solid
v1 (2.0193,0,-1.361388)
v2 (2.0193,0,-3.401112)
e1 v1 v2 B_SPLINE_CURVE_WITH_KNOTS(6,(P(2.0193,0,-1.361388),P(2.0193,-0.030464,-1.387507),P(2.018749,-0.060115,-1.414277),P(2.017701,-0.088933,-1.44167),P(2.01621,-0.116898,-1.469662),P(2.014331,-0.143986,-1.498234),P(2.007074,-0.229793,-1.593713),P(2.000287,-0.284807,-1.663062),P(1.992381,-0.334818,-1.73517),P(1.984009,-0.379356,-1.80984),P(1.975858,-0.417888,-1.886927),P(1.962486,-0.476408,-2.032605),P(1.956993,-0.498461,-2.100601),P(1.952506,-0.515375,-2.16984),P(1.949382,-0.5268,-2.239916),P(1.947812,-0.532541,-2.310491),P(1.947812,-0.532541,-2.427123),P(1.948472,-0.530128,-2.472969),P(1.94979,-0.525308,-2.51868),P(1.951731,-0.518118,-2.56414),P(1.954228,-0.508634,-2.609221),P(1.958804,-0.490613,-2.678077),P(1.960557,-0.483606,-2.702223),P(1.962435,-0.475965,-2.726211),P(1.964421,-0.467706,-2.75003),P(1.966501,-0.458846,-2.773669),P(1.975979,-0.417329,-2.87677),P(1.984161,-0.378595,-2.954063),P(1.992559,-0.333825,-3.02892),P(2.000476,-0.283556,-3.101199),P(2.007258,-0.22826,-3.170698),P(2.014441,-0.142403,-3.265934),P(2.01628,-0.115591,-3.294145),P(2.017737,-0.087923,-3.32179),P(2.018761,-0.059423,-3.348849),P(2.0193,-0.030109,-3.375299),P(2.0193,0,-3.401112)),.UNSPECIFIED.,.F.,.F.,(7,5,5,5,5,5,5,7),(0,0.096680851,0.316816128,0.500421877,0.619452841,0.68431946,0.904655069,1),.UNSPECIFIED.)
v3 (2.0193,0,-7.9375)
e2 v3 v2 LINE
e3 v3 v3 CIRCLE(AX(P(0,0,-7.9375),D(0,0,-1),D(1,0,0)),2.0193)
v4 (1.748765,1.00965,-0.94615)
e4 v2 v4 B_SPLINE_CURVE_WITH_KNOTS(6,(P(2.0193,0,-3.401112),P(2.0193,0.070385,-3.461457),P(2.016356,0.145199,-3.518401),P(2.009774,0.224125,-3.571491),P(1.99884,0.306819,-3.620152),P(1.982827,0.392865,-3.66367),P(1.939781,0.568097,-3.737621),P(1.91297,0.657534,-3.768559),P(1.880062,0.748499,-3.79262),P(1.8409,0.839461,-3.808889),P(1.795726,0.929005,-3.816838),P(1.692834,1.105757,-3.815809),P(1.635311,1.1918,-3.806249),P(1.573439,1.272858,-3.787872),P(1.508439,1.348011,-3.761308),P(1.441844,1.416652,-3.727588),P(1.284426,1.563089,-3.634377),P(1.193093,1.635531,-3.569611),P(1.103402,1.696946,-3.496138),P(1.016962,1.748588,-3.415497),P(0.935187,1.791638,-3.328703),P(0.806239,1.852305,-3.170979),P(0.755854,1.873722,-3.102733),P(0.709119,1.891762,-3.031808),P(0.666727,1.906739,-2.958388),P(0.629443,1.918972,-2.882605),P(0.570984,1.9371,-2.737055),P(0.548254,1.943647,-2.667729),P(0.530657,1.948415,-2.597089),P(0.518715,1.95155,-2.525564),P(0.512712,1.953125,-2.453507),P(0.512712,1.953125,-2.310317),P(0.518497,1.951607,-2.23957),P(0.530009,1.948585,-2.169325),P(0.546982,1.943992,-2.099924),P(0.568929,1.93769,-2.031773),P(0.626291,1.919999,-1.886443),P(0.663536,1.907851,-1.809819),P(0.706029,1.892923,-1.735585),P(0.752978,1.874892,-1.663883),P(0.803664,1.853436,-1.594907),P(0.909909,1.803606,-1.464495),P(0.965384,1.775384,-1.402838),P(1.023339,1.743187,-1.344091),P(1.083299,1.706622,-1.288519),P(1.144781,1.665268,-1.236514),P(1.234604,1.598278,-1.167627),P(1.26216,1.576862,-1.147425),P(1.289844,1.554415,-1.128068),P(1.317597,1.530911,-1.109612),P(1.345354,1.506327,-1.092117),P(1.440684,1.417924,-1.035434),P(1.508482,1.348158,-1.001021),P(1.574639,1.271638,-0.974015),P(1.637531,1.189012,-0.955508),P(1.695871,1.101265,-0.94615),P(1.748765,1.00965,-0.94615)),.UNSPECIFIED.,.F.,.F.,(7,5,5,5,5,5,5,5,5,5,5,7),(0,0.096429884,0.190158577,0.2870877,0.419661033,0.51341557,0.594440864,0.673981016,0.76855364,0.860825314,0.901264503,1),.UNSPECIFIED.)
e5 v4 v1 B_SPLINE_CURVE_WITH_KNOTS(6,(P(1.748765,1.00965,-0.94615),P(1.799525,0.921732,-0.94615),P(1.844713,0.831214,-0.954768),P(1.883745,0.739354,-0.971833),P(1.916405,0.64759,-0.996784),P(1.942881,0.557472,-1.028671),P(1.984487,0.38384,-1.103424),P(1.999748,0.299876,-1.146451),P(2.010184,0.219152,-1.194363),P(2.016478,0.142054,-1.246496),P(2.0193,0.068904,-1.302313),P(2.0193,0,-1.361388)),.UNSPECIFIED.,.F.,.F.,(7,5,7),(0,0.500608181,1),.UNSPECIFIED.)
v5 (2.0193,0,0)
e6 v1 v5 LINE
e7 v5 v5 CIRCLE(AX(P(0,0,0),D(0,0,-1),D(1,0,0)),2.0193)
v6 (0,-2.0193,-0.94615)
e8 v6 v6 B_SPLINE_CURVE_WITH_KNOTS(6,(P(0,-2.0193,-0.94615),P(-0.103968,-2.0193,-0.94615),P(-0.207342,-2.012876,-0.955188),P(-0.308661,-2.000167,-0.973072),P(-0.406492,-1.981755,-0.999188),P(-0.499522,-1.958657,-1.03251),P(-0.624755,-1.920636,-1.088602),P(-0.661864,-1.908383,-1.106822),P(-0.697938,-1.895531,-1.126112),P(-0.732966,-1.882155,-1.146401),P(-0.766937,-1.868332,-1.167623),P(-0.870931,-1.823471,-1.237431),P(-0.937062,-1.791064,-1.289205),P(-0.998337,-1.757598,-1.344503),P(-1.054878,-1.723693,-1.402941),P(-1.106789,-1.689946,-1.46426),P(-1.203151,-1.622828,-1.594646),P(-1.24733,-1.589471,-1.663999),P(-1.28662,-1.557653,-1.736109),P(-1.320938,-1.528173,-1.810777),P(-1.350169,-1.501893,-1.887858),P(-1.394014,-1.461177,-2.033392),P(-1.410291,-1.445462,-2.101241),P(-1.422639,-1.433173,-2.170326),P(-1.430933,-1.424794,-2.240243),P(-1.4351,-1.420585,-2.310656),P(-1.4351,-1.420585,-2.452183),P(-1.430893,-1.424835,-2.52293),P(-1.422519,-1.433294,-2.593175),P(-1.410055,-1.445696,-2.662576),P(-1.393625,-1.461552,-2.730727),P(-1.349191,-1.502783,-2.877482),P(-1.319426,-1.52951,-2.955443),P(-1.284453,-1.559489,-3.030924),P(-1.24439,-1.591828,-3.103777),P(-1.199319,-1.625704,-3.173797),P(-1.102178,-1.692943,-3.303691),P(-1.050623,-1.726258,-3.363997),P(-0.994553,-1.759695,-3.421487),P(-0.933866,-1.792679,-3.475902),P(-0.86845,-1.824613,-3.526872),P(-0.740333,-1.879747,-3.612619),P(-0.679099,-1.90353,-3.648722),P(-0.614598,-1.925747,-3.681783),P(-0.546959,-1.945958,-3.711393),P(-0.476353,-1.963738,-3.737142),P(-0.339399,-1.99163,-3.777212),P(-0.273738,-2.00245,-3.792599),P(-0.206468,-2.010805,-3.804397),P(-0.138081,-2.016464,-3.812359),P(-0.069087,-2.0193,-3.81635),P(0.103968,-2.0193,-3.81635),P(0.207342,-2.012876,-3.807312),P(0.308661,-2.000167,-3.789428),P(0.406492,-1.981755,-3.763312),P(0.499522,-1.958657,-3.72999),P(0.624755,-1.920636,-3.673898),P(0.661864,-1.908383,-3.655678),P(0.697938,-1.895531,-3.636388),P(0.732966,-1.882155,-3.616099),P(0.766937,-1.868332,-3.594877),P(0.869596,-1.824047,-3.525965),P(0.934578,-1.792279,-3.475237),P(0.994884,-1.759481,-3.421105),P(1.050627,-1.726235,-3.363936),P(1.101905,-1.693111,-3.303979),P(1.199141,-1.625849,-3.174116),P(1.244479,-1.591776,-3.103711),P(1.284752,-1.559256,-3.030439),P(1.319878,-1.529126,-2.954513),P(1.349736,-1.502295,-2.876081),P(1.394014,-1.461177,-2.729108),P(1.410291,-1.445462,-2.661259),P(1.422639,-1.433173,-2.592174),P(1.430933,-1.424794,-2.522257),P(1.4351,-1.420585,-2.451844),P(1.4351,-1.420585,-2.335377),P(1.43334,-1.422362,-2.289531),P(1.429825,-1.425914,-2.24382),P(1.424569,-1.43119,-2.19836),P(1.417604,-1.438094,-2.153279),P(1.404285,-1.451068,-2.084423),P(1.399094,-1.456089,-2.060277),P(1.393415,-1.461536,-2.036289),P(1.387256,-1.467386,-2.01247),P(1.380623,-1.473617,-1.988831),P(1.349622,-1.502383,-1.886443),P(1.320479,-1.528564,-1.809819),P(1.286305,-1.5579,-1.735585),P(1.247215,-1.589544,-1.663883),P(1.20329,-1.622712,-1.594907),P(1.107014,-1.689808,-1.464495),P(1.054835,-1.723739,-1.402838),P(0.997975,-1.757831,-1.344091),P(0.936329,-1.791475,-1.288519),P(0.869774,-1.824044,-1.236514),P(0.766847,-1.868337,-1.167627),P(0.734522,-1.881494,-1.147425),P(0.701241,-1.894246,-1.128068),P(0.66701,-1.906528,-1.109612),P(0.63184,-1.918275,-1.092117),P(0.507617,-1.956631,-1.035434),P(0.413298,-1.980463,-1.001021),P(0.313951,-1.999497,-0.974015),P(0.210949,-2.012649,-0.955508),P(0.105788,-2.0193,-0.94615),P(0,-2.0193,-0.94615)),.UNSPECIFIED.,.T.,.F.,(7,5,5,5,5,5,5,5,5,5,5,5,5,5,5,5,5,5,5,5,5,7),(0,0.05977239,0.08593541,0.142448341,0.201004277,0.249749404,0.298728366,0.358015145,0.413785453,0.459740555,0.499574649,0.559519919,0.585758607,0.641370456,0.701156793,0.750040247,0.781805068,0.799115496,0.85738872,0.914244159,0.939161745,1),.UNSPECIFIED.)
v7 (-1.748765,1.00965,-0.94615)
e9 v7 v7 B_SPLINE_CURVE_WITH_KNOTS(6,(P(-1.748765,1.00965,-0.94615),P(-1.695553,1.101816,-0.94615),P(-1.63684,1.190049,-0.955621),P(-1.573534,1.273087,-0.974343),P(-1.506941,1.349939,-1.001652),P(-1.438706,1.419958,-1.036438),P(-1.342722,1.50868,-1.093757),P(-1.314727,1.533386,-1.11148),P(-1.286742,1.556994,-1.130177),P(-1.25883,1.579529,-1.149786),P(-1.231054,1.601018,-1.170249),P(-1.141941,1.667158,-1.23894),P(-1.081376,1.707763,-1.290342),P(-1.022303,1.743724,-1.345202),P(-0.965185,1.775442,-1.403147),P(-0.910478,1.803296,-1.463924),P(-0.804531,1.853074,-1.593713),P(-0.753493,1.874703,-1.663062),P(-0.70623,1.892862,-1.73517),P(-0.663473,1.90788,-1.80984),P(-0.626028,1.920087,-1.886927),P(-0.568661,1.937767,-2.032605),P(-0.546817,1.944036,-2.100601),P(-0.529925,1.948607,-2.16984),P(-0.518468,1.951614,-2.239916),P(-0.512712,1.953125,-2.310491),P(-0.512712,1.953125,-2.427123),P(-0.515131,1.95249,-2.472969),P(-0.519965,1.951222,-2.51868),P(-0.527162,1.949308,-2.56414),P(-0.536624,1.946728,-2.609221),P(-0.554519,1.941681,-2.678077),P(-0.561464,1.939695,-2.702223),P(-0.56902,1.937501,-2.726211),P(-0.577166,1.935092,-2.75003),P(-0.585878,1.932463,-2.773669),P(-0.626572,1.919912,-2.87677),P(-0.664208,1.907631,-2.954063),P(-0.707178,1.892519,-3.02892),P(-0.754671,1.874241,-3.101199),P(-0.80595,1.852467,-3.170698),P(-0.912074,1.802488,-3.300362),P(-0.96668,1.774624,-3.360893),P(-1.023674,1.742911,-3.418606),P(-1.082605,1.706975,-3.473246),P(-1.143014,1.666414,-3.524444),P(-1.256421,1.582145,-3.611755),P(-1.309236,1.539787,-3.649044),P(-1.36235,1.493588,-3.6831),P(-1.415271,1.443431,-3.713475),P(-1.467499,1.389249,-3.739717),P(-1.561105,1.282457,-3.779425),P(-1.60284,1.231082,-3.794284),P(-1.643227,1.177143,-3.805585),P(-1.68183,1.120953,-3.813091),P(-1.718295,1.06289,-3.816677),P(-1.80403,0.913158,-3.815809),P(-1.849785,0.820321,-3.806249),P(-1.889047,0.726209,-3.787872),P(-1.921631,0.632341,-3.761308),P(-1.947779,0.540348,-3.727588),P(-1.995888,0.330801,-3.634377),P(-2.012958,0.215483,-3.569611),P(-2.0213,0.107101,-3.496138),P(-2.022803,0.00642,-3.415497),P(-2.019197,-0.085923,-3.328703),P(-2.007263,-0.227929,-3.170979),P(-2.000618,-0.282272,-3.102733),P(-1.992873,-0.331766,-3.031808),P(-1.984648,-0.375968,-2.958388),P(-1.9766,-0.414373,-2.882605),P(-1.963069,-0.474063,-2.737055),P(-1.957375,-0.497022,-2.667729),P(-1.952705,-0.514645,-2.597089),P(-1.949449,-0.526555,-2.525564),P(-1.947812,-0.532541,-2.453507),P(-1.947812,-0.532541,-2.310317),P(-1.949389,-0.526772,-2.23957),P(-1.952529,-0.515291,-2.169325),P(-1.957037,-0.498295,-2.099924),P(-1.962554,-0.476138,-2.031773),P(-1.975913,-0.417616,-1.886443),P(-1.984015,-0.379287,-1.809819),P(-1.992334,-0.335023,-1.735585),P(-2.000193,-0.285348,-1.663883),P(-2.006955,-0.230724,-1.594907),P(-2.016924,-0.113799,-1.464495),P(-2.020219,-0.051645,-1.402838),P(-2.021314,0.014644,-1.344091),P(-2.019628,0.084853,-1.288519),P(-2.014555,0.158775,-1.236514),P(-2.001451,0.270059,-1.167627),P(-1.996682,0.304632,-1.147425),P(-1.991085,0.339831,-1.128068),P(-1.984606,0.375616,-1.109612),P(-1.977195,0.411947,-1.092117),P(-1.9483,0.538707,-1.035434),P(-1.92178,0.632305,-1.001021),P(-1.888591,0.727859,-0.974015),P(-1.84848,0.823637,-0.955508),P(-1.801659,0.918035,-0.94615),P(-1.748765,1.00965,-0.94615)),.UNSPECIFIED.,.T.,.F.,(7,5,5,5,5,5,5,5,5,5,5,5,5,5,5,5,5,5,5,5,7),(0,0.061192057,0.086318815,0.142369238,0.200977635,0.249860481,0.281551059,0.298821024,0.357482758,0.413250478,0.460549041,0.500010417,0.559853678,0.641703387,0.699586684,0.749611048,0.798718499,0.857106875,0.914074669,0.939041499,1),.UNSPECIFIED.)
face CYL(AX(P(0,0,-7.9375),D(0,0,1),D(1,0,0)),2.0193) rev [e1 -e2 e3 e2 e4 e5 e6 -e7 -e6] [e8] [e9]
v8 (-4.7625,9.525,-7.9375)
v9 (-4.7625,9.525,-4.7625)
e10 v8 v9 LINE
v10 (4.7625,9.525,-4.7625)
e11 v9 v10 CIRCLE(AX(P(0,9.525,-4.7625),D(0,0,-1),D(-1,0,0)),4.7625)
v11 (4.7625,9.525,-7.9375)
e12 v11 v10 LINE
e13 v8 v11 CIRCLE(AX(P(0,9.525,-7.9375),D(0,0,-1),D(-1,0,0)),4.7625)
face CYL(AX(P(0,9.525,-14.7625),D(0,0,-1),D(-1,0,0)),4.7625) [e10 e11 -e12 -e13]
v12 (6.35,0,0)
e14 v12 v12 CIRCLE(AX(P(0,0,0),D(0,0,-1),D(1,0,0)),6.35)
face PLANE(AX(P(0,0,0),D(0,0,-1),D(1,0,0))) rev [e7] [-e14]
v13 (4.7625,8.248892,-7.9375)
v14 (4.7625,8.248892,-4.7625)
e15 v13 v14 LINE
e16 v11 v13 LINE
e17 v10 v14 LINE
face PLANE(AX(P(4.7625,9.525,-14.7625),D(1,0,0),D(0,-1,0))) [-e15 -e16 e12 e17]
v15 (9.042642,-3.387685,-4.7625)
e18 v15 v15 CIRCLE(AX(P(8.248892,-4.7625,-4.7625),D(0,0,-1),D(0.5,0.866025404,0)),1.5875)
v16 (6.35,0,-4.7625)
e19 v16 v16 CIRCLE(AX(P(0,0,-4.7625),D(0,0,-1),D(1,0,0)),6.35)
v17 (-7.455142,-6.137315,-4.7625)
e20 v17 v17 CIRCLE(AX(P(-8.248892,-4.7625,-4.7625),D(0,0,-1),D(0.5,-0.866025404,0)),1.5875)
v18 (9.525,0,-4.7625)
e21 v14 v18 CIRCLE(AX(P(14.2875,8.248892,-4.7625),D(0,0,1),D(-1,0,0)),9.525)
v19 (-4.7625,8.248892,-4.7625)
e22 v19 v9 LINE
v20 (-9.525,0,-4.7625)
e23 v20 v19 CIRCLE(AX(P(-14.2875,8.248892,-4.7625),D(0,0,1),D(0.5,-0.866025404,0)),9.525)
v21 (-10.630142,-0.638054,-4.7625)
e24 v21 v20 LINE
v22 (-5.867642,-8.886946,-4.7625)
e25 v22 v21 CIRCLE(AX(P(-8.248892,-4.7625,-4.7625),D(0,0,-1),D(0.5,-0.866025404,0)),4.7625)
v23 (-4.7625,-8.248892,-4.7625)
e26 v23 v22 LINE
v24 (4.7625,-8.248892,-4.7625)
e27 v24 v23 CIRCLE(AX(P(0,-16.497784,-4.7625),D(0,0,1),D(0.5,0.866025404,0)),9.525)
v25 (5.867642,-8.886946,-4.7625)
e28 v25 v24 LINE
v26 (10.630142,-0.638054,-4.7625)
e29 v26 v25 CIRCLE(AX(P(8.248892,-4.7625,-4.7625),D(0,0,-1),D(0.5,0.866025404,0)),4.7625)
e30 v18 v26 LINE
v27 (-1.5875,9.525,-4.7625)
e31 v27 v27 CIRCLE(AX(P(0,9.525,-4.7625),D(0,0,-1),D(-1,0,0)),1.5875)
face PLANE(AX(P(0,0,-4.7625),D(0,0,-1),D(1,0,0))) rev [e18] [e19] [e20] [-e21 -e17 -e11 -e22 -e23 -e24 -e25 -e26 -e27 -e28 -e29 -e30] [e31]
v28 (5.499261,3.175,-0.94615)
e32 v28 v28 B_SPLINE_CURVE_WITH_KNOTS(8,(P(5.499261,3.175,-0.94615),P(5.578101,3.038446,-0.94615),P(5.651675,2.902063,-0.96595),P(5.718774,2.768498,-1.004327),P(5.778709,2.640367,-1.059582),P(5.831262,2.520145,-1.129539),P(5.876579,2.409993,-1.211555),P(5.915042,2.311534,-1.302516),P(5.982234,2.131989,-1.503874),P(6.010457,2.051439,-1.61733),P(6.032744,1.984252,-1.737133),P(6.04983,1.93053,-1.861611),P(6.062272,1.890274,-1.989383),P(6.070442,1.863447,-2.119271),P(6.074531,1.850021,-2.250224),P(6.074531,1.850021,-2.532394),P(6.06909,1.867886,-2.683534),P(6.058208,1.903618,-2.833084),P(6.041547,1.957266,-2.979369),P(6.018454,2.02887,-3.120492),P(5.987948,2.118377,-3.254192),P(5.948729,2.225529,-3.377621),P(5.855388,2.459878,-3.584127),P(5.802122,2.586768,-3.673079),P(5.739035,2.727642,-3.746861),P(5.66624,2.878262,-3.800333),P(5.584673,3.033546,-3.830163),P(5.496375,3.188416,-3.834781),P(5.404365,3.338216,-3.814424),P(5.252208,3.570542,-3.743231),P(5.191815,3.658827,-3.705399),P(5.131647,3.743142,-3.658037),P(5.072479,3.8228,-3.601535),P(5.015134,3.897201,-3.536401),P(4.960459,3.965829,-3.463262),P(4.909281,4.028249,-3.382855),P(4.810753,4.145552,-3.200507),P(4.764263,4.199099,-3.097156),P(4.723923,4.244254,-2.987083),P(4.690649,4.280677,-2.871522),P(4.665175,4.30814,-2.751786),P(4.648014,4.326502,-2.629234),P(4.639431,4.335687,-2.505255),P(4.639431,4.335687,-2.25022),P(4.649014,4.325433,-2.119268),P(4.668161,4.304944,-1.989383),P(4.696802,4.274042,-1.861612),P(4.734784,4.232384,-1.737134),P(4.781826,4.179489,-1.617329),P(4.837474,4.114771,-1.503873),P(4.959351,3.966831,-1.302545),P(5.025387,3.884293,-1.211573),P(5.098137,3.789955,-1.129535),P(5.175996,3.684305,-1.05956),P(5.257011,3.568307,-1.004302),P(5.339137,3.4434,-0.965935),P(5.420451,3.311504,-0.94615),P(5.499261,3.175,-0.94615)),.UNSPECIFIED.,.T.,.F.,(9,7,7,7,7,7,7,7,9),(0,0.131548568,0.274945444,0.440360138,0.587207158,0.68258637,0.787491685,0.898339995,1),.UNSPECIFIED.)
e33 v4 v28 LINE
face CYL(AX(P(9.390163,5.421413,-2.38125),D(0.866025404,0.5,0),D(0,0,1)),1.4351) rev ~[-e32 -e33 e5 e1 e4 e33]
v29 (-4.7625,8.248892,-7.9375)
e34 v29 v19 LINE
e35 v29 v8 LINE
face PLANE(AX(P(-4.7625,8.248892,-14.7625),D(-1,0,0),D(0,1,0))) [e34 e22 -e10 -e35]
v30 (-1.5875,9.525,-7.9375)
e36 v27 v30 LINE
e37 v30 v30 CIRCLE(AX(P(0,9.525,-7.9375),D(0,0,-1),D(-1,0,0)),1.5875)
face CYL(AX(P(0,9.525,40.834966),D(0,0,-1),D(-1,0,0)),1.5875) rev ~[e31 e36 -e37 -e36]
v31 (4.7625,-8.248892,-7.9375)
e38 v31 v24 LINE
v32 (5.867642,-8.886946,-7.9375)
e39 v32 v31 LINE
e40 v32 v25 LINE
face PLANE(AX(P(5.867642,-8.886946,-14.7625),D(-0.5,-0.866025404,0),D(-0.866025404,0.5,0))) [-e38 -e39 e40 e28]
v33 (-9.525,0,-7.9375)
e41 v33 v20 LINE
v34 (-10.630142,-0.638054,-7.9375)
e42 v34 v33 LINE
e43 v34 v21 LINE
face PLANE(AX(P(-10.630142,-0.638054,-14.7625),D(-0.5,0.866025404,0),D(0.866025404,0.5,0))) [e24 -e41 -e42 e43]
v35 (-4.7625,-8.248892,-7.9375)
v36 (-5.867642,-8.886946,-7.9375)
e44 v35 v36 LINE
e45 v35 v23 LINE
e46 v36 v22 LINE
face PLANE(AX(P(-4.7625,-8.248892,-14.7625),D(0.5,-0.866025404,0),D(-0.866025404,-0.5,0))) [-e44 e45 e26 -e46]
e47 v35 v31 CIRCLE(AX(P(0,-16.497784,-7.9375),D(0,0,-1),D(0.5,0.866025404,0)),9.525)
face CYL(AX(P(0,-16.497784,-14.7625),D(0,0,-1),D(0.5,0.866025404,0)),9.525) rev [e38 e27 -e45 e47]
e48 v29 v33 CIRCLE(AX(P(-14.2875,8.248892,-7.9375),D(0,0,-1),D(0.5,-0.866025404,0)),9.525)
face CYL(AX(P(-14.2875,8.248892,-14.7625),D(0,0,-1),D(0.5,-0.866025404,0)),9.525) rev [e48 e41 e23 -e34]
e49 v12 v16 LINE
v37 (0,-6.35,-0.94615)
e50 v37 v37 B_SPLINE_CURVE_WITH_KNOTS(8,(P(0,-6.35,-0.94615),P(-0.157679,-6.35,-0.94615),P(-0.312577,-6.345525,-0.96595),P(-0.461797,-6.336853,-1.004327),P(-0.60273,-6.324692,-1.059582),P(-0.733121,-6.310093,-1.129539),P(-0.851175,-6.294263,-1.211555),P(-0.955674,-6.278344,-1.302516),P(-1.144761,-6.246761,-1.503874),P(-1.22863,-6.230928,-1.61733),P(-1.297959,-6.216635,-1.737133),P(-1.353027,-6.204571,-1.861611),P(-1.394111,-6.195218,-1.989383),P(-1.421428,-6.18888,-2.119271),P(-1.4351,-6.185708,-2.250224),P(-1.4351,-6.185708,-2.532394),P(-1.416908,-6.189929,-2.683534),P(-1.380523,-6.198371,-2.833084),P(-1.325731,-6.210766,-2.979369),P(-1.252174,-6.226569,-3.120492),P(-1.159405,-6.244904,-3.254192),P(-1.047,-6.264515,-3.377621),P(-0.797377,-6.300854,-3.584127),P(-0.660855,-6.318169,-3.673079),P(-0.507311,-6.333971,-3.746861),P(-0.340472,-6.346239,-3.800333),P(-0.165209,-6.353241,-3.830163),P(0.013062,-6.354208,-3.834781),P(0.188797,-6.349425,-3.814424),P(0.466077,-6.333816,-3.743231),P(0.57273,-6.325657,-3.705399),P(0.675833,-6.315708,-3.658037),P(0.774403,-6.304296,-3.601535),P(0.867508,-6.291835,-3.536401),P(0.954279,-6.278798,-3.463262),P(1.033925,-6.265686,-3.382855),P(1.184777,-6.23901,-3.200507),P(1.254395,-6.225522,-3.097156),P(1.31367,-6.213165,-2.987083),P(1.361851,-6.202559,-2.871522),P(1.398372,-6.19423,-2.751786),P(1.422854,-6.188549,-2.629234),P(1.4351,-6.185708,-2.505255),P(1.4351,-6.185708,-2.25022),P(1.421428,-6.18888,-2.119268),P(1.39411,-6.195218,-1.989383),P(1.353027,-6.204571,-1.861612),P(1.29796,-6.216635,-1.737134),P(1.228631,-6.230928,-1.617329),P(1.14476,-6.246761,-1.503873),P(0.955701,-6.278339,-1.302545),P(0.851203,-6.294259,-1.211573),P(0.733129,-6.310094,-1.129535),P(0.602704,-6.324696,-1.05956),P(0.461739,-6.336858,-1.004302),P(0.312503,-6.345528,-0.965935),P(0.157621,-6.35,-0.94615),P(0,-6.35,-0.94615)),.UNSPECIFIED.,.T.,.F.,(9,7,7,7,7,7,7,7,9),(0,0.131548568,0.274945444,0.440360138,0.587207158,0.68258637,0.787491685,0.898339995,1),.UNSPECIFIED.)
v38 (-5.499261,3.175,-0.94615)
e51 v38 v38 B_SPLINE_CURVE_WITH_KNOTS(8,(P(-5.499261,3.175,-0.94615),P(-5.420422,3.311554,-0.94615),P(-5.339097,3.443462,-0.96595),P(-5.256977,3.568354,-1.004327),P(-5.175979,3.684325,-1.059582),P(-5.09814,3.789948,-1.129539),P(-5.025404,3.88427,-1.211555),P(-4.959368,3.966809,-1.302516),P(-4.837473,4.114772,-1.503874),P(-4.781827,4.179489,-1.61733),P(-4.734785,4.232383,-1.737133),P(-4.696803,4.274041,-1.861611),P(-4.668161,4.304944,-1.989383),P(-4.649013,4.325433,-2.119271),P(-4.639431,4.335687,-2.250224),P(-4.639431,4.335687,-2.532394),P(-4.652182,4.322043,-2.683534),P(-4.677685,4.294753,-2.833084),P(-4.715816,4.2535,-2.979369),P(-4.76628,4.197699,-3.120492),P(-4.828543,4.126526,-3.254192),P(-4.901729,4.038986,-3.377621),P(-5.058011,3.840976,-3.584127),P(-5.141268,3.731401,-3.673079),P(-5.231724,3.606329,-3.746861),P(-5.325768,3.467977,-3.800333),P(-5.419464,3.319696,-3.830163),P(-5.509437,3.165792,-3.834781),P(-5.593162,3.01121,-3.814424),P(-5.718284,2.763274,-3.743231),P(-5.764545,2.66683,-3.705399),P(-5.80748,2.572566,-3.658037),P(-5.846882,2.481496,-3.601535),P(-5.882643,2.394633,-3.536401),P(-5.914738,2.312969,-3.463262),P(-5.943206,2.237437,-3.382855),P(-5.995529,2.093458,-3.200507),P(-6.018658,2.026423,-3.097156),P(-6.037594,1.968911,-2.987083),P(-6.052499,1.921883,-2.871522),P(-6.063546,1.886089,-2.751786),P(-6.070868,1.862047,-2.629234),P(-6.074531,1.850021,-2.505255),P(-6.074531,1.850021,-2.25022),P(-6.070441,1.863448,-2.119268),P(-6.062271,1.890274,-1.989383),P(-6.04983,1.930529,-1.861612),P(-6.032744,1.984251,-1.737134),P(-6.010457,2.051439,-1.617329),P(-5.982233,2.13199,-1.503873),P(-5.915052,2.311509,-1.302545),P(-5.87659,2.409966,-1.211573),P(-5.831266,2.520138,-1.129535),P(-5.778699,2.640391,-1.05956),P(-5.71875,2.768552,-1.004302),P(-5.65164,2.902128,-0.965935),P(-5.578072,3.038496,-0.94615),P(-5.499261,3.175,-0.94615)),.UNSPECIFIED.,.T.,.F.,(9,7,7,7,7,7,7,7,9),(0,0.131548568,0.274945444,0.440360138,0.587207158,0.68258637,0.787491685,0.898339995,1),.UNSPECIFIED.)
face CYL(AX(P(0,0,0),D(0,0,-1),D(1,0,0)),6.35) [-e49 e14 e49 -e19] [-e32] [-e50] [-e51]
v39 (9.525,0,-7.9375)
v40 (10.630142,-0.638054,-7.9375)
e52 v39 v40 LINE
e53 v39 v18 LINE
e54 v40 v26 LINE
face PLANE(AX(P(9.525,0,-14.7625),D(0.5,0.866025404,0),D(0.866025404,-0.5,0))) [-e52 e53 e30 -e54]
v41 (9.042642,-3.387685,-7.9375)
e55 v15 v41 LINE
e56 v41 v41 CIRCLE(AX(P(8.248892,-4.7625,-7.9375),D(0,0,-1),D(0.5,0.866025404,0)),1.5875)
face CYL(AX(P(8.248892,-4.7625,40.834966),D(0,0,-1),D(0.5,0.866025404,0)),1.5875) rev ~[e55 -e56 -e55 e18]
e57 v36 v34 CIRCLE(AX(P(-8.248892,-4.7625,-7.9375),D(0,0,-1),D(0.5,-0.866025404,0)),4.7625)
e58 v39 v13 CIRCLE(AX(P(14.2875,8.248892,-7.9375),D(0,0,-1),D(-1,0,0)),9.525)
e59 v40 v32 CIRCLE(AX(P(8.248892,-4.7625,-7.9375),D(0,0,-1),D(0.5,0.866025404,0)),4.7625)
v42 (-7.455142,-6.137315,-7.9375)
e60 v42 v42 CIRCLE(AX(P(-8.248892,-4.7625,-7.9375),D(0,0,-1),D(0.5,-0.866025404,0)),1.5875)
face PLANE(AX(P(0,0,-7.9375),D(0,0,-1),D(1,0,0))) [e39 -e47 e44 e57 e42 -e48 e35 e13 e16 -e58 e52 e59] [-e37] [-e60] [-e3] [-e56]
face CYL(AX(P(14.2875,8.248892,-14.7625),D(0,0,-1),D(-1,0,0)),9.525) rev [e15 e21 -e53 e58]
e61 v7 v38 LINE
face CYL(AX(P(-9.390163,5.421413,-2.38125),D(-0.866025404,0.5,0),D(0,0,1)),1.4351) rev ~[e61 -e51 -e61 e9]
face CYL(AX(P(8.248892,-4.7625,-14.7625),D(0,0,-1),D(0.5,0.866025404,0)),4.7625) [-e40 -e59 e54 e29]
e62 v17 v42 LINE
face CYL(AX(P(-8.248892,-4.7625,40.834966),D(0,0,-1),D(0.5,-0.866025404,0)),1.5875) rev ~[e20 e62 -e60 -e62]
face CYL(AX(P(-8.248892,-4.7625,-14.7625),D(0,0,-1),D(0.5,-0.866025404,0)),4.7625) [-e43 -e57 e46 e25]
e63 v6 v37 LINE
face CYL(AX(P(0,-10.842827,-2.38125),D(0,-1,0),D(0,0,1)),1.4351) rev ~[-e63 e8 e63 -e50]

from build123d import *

# Parameters (mm, degrees)
F_1_8_0_1250_DOWEL_HOLE1_D = 3.175
SKETCH6_W                  = 1.4351
SKETCH6_H                  = 21.685653285
CIRPATTERN1_COUNT          = 3
CIRPATTERN2_COUNT          = 3
CUT_EXTRUDE1_START         = -10
SKETCH7_R                  = 15.875
CUT_EXTRUDE1_DEPTH         = 10


with BuildPart() as part:
    # Sketch1 → Revolve1 (revolve)
    with BuildSketch(Plane(origin=(0, 0, 0), x_dir=(0, 0, -1), z_dir=(1, 0, 0)), mode=Mode.PRIVATE) as revolve1_sk:
        Polygon((0, 2.0193), (0, 6.35), (4.7625, 6.35), (4.7625, 15.875), (7.9375, 15.875), (7.9375, 2.0193), align=None)
    revolve(revolve1_sk.sketch.rotate(Axis((0, 0, 0), (0, 0, -1)), 90), axis=Axis((0, 0, 0), (0, 0, -1)))

    # 1/8 (0.1250) Dowel Hole1 (through all)
    with Locations(Plane.XY.offset(-4.7625)):
        with Locations((0, 9.525), (0, 0)):
            f_1_8_0_1250_dowel_hole1 = Hole(F_1_8_0_1250_DOWEL_HOLE1_D / 2)

    # Sketch6 → #6-40 Tapped Hole1 (revolve, cut)
    with BuildSketch(Plane(origin=(0, 0, -2.38125), x_dir=(0, 0, 1), z_dir=(1, 0, 0))):
        with Locations((0.71755, 10.842826643)):
            Rectangle(SKETCH6_W, SKETCH6_H)
    f_6_40_tapped_hole1 = revolve(axis=Axis((0, 6.35, -2.38125), (0, -1, 0)), mode=Mode.SUBTRACT)

    # CirPattern1: #6-40 Tapped Hole1 ×3 about axis
    cirpattern1_axis = Axis((0, 0, 0), (0, 0, 1))
    for i in range(1, CIRPATTERN1_COUNT):
        add(f_6_40_tapped_hole1.rotate(cirpattern1_axis, i * 360 / CIRPATTERN1_COUNT), mode=Mode.SUBTRACT)

    # CirPattern2: 1/8 (0.1250) Dowel Hole1 ×3 about axis
    cirpattern2_axis = Axis((0, 0, 0), (0, 0, 1))
    for i in range(1, CIRPATTERN2_COUNT):
        add(f_1_8_0_1250_dowel_hole1.rotate(cirpattern2_axis, i * 360 / CIRPATTERN2_COUNT), mode=Mode.SUBTRACT)

    # Sketch7 → Cut-Extrude1 (cut)
    with BuildSketch(Plane.XY.offset(-4.7625).offset(CUT_EXTRUDE1_START)):
        Circle(SKETCH7_R)
        with BuildLine():
            ThreePointArc((-4.7625, 9.525), (0, 14.2875), (4.7625, 9.525))
            Line((4.7625, 9.525), (4.7625, 8.248891971))
            ThreePointArc((4.7625, 8.248891971), (6.038608029, 3.486391971), (9.525, 0))
            Line((9.525, 0), (10.630141971, -0.638054014))
            ThreePointArc((10.630141971, -0.638054014), (12.373337957, -7.14375), (5.867641971, -8.886945986))
            Line((5.867641971, -8.886945986), (4.7625, -8.248891971))
            ThreePointArc((4.7625, -8.248891971), (0, -6.972783942), (-4.7625, -8.248891971))
            Line((-4.7625, -8.248891971), (-5.867641971, -8.886945986))
            ThreePointArc((-5.867641971, -8.886945986), (-12.373337957, -7.14375), (-10.630141971, -0.638054014))
            Line((-10.630141971, -0.638054014), (-9.525, 0))
            ThreePointArc((-9.525, 0), (-6.038608029, 3.486391971), (-4.7625, 8.248891971))
            Line((-4.7625, 8.248891971), (-4.7625, 9.525))
        make_face(mode=Mode.SUBTRACT)
    extrude(amount=CUT_EXTRUDE1_DEPTH, mode=Mode.SUBTRACT)


solid = part.part
